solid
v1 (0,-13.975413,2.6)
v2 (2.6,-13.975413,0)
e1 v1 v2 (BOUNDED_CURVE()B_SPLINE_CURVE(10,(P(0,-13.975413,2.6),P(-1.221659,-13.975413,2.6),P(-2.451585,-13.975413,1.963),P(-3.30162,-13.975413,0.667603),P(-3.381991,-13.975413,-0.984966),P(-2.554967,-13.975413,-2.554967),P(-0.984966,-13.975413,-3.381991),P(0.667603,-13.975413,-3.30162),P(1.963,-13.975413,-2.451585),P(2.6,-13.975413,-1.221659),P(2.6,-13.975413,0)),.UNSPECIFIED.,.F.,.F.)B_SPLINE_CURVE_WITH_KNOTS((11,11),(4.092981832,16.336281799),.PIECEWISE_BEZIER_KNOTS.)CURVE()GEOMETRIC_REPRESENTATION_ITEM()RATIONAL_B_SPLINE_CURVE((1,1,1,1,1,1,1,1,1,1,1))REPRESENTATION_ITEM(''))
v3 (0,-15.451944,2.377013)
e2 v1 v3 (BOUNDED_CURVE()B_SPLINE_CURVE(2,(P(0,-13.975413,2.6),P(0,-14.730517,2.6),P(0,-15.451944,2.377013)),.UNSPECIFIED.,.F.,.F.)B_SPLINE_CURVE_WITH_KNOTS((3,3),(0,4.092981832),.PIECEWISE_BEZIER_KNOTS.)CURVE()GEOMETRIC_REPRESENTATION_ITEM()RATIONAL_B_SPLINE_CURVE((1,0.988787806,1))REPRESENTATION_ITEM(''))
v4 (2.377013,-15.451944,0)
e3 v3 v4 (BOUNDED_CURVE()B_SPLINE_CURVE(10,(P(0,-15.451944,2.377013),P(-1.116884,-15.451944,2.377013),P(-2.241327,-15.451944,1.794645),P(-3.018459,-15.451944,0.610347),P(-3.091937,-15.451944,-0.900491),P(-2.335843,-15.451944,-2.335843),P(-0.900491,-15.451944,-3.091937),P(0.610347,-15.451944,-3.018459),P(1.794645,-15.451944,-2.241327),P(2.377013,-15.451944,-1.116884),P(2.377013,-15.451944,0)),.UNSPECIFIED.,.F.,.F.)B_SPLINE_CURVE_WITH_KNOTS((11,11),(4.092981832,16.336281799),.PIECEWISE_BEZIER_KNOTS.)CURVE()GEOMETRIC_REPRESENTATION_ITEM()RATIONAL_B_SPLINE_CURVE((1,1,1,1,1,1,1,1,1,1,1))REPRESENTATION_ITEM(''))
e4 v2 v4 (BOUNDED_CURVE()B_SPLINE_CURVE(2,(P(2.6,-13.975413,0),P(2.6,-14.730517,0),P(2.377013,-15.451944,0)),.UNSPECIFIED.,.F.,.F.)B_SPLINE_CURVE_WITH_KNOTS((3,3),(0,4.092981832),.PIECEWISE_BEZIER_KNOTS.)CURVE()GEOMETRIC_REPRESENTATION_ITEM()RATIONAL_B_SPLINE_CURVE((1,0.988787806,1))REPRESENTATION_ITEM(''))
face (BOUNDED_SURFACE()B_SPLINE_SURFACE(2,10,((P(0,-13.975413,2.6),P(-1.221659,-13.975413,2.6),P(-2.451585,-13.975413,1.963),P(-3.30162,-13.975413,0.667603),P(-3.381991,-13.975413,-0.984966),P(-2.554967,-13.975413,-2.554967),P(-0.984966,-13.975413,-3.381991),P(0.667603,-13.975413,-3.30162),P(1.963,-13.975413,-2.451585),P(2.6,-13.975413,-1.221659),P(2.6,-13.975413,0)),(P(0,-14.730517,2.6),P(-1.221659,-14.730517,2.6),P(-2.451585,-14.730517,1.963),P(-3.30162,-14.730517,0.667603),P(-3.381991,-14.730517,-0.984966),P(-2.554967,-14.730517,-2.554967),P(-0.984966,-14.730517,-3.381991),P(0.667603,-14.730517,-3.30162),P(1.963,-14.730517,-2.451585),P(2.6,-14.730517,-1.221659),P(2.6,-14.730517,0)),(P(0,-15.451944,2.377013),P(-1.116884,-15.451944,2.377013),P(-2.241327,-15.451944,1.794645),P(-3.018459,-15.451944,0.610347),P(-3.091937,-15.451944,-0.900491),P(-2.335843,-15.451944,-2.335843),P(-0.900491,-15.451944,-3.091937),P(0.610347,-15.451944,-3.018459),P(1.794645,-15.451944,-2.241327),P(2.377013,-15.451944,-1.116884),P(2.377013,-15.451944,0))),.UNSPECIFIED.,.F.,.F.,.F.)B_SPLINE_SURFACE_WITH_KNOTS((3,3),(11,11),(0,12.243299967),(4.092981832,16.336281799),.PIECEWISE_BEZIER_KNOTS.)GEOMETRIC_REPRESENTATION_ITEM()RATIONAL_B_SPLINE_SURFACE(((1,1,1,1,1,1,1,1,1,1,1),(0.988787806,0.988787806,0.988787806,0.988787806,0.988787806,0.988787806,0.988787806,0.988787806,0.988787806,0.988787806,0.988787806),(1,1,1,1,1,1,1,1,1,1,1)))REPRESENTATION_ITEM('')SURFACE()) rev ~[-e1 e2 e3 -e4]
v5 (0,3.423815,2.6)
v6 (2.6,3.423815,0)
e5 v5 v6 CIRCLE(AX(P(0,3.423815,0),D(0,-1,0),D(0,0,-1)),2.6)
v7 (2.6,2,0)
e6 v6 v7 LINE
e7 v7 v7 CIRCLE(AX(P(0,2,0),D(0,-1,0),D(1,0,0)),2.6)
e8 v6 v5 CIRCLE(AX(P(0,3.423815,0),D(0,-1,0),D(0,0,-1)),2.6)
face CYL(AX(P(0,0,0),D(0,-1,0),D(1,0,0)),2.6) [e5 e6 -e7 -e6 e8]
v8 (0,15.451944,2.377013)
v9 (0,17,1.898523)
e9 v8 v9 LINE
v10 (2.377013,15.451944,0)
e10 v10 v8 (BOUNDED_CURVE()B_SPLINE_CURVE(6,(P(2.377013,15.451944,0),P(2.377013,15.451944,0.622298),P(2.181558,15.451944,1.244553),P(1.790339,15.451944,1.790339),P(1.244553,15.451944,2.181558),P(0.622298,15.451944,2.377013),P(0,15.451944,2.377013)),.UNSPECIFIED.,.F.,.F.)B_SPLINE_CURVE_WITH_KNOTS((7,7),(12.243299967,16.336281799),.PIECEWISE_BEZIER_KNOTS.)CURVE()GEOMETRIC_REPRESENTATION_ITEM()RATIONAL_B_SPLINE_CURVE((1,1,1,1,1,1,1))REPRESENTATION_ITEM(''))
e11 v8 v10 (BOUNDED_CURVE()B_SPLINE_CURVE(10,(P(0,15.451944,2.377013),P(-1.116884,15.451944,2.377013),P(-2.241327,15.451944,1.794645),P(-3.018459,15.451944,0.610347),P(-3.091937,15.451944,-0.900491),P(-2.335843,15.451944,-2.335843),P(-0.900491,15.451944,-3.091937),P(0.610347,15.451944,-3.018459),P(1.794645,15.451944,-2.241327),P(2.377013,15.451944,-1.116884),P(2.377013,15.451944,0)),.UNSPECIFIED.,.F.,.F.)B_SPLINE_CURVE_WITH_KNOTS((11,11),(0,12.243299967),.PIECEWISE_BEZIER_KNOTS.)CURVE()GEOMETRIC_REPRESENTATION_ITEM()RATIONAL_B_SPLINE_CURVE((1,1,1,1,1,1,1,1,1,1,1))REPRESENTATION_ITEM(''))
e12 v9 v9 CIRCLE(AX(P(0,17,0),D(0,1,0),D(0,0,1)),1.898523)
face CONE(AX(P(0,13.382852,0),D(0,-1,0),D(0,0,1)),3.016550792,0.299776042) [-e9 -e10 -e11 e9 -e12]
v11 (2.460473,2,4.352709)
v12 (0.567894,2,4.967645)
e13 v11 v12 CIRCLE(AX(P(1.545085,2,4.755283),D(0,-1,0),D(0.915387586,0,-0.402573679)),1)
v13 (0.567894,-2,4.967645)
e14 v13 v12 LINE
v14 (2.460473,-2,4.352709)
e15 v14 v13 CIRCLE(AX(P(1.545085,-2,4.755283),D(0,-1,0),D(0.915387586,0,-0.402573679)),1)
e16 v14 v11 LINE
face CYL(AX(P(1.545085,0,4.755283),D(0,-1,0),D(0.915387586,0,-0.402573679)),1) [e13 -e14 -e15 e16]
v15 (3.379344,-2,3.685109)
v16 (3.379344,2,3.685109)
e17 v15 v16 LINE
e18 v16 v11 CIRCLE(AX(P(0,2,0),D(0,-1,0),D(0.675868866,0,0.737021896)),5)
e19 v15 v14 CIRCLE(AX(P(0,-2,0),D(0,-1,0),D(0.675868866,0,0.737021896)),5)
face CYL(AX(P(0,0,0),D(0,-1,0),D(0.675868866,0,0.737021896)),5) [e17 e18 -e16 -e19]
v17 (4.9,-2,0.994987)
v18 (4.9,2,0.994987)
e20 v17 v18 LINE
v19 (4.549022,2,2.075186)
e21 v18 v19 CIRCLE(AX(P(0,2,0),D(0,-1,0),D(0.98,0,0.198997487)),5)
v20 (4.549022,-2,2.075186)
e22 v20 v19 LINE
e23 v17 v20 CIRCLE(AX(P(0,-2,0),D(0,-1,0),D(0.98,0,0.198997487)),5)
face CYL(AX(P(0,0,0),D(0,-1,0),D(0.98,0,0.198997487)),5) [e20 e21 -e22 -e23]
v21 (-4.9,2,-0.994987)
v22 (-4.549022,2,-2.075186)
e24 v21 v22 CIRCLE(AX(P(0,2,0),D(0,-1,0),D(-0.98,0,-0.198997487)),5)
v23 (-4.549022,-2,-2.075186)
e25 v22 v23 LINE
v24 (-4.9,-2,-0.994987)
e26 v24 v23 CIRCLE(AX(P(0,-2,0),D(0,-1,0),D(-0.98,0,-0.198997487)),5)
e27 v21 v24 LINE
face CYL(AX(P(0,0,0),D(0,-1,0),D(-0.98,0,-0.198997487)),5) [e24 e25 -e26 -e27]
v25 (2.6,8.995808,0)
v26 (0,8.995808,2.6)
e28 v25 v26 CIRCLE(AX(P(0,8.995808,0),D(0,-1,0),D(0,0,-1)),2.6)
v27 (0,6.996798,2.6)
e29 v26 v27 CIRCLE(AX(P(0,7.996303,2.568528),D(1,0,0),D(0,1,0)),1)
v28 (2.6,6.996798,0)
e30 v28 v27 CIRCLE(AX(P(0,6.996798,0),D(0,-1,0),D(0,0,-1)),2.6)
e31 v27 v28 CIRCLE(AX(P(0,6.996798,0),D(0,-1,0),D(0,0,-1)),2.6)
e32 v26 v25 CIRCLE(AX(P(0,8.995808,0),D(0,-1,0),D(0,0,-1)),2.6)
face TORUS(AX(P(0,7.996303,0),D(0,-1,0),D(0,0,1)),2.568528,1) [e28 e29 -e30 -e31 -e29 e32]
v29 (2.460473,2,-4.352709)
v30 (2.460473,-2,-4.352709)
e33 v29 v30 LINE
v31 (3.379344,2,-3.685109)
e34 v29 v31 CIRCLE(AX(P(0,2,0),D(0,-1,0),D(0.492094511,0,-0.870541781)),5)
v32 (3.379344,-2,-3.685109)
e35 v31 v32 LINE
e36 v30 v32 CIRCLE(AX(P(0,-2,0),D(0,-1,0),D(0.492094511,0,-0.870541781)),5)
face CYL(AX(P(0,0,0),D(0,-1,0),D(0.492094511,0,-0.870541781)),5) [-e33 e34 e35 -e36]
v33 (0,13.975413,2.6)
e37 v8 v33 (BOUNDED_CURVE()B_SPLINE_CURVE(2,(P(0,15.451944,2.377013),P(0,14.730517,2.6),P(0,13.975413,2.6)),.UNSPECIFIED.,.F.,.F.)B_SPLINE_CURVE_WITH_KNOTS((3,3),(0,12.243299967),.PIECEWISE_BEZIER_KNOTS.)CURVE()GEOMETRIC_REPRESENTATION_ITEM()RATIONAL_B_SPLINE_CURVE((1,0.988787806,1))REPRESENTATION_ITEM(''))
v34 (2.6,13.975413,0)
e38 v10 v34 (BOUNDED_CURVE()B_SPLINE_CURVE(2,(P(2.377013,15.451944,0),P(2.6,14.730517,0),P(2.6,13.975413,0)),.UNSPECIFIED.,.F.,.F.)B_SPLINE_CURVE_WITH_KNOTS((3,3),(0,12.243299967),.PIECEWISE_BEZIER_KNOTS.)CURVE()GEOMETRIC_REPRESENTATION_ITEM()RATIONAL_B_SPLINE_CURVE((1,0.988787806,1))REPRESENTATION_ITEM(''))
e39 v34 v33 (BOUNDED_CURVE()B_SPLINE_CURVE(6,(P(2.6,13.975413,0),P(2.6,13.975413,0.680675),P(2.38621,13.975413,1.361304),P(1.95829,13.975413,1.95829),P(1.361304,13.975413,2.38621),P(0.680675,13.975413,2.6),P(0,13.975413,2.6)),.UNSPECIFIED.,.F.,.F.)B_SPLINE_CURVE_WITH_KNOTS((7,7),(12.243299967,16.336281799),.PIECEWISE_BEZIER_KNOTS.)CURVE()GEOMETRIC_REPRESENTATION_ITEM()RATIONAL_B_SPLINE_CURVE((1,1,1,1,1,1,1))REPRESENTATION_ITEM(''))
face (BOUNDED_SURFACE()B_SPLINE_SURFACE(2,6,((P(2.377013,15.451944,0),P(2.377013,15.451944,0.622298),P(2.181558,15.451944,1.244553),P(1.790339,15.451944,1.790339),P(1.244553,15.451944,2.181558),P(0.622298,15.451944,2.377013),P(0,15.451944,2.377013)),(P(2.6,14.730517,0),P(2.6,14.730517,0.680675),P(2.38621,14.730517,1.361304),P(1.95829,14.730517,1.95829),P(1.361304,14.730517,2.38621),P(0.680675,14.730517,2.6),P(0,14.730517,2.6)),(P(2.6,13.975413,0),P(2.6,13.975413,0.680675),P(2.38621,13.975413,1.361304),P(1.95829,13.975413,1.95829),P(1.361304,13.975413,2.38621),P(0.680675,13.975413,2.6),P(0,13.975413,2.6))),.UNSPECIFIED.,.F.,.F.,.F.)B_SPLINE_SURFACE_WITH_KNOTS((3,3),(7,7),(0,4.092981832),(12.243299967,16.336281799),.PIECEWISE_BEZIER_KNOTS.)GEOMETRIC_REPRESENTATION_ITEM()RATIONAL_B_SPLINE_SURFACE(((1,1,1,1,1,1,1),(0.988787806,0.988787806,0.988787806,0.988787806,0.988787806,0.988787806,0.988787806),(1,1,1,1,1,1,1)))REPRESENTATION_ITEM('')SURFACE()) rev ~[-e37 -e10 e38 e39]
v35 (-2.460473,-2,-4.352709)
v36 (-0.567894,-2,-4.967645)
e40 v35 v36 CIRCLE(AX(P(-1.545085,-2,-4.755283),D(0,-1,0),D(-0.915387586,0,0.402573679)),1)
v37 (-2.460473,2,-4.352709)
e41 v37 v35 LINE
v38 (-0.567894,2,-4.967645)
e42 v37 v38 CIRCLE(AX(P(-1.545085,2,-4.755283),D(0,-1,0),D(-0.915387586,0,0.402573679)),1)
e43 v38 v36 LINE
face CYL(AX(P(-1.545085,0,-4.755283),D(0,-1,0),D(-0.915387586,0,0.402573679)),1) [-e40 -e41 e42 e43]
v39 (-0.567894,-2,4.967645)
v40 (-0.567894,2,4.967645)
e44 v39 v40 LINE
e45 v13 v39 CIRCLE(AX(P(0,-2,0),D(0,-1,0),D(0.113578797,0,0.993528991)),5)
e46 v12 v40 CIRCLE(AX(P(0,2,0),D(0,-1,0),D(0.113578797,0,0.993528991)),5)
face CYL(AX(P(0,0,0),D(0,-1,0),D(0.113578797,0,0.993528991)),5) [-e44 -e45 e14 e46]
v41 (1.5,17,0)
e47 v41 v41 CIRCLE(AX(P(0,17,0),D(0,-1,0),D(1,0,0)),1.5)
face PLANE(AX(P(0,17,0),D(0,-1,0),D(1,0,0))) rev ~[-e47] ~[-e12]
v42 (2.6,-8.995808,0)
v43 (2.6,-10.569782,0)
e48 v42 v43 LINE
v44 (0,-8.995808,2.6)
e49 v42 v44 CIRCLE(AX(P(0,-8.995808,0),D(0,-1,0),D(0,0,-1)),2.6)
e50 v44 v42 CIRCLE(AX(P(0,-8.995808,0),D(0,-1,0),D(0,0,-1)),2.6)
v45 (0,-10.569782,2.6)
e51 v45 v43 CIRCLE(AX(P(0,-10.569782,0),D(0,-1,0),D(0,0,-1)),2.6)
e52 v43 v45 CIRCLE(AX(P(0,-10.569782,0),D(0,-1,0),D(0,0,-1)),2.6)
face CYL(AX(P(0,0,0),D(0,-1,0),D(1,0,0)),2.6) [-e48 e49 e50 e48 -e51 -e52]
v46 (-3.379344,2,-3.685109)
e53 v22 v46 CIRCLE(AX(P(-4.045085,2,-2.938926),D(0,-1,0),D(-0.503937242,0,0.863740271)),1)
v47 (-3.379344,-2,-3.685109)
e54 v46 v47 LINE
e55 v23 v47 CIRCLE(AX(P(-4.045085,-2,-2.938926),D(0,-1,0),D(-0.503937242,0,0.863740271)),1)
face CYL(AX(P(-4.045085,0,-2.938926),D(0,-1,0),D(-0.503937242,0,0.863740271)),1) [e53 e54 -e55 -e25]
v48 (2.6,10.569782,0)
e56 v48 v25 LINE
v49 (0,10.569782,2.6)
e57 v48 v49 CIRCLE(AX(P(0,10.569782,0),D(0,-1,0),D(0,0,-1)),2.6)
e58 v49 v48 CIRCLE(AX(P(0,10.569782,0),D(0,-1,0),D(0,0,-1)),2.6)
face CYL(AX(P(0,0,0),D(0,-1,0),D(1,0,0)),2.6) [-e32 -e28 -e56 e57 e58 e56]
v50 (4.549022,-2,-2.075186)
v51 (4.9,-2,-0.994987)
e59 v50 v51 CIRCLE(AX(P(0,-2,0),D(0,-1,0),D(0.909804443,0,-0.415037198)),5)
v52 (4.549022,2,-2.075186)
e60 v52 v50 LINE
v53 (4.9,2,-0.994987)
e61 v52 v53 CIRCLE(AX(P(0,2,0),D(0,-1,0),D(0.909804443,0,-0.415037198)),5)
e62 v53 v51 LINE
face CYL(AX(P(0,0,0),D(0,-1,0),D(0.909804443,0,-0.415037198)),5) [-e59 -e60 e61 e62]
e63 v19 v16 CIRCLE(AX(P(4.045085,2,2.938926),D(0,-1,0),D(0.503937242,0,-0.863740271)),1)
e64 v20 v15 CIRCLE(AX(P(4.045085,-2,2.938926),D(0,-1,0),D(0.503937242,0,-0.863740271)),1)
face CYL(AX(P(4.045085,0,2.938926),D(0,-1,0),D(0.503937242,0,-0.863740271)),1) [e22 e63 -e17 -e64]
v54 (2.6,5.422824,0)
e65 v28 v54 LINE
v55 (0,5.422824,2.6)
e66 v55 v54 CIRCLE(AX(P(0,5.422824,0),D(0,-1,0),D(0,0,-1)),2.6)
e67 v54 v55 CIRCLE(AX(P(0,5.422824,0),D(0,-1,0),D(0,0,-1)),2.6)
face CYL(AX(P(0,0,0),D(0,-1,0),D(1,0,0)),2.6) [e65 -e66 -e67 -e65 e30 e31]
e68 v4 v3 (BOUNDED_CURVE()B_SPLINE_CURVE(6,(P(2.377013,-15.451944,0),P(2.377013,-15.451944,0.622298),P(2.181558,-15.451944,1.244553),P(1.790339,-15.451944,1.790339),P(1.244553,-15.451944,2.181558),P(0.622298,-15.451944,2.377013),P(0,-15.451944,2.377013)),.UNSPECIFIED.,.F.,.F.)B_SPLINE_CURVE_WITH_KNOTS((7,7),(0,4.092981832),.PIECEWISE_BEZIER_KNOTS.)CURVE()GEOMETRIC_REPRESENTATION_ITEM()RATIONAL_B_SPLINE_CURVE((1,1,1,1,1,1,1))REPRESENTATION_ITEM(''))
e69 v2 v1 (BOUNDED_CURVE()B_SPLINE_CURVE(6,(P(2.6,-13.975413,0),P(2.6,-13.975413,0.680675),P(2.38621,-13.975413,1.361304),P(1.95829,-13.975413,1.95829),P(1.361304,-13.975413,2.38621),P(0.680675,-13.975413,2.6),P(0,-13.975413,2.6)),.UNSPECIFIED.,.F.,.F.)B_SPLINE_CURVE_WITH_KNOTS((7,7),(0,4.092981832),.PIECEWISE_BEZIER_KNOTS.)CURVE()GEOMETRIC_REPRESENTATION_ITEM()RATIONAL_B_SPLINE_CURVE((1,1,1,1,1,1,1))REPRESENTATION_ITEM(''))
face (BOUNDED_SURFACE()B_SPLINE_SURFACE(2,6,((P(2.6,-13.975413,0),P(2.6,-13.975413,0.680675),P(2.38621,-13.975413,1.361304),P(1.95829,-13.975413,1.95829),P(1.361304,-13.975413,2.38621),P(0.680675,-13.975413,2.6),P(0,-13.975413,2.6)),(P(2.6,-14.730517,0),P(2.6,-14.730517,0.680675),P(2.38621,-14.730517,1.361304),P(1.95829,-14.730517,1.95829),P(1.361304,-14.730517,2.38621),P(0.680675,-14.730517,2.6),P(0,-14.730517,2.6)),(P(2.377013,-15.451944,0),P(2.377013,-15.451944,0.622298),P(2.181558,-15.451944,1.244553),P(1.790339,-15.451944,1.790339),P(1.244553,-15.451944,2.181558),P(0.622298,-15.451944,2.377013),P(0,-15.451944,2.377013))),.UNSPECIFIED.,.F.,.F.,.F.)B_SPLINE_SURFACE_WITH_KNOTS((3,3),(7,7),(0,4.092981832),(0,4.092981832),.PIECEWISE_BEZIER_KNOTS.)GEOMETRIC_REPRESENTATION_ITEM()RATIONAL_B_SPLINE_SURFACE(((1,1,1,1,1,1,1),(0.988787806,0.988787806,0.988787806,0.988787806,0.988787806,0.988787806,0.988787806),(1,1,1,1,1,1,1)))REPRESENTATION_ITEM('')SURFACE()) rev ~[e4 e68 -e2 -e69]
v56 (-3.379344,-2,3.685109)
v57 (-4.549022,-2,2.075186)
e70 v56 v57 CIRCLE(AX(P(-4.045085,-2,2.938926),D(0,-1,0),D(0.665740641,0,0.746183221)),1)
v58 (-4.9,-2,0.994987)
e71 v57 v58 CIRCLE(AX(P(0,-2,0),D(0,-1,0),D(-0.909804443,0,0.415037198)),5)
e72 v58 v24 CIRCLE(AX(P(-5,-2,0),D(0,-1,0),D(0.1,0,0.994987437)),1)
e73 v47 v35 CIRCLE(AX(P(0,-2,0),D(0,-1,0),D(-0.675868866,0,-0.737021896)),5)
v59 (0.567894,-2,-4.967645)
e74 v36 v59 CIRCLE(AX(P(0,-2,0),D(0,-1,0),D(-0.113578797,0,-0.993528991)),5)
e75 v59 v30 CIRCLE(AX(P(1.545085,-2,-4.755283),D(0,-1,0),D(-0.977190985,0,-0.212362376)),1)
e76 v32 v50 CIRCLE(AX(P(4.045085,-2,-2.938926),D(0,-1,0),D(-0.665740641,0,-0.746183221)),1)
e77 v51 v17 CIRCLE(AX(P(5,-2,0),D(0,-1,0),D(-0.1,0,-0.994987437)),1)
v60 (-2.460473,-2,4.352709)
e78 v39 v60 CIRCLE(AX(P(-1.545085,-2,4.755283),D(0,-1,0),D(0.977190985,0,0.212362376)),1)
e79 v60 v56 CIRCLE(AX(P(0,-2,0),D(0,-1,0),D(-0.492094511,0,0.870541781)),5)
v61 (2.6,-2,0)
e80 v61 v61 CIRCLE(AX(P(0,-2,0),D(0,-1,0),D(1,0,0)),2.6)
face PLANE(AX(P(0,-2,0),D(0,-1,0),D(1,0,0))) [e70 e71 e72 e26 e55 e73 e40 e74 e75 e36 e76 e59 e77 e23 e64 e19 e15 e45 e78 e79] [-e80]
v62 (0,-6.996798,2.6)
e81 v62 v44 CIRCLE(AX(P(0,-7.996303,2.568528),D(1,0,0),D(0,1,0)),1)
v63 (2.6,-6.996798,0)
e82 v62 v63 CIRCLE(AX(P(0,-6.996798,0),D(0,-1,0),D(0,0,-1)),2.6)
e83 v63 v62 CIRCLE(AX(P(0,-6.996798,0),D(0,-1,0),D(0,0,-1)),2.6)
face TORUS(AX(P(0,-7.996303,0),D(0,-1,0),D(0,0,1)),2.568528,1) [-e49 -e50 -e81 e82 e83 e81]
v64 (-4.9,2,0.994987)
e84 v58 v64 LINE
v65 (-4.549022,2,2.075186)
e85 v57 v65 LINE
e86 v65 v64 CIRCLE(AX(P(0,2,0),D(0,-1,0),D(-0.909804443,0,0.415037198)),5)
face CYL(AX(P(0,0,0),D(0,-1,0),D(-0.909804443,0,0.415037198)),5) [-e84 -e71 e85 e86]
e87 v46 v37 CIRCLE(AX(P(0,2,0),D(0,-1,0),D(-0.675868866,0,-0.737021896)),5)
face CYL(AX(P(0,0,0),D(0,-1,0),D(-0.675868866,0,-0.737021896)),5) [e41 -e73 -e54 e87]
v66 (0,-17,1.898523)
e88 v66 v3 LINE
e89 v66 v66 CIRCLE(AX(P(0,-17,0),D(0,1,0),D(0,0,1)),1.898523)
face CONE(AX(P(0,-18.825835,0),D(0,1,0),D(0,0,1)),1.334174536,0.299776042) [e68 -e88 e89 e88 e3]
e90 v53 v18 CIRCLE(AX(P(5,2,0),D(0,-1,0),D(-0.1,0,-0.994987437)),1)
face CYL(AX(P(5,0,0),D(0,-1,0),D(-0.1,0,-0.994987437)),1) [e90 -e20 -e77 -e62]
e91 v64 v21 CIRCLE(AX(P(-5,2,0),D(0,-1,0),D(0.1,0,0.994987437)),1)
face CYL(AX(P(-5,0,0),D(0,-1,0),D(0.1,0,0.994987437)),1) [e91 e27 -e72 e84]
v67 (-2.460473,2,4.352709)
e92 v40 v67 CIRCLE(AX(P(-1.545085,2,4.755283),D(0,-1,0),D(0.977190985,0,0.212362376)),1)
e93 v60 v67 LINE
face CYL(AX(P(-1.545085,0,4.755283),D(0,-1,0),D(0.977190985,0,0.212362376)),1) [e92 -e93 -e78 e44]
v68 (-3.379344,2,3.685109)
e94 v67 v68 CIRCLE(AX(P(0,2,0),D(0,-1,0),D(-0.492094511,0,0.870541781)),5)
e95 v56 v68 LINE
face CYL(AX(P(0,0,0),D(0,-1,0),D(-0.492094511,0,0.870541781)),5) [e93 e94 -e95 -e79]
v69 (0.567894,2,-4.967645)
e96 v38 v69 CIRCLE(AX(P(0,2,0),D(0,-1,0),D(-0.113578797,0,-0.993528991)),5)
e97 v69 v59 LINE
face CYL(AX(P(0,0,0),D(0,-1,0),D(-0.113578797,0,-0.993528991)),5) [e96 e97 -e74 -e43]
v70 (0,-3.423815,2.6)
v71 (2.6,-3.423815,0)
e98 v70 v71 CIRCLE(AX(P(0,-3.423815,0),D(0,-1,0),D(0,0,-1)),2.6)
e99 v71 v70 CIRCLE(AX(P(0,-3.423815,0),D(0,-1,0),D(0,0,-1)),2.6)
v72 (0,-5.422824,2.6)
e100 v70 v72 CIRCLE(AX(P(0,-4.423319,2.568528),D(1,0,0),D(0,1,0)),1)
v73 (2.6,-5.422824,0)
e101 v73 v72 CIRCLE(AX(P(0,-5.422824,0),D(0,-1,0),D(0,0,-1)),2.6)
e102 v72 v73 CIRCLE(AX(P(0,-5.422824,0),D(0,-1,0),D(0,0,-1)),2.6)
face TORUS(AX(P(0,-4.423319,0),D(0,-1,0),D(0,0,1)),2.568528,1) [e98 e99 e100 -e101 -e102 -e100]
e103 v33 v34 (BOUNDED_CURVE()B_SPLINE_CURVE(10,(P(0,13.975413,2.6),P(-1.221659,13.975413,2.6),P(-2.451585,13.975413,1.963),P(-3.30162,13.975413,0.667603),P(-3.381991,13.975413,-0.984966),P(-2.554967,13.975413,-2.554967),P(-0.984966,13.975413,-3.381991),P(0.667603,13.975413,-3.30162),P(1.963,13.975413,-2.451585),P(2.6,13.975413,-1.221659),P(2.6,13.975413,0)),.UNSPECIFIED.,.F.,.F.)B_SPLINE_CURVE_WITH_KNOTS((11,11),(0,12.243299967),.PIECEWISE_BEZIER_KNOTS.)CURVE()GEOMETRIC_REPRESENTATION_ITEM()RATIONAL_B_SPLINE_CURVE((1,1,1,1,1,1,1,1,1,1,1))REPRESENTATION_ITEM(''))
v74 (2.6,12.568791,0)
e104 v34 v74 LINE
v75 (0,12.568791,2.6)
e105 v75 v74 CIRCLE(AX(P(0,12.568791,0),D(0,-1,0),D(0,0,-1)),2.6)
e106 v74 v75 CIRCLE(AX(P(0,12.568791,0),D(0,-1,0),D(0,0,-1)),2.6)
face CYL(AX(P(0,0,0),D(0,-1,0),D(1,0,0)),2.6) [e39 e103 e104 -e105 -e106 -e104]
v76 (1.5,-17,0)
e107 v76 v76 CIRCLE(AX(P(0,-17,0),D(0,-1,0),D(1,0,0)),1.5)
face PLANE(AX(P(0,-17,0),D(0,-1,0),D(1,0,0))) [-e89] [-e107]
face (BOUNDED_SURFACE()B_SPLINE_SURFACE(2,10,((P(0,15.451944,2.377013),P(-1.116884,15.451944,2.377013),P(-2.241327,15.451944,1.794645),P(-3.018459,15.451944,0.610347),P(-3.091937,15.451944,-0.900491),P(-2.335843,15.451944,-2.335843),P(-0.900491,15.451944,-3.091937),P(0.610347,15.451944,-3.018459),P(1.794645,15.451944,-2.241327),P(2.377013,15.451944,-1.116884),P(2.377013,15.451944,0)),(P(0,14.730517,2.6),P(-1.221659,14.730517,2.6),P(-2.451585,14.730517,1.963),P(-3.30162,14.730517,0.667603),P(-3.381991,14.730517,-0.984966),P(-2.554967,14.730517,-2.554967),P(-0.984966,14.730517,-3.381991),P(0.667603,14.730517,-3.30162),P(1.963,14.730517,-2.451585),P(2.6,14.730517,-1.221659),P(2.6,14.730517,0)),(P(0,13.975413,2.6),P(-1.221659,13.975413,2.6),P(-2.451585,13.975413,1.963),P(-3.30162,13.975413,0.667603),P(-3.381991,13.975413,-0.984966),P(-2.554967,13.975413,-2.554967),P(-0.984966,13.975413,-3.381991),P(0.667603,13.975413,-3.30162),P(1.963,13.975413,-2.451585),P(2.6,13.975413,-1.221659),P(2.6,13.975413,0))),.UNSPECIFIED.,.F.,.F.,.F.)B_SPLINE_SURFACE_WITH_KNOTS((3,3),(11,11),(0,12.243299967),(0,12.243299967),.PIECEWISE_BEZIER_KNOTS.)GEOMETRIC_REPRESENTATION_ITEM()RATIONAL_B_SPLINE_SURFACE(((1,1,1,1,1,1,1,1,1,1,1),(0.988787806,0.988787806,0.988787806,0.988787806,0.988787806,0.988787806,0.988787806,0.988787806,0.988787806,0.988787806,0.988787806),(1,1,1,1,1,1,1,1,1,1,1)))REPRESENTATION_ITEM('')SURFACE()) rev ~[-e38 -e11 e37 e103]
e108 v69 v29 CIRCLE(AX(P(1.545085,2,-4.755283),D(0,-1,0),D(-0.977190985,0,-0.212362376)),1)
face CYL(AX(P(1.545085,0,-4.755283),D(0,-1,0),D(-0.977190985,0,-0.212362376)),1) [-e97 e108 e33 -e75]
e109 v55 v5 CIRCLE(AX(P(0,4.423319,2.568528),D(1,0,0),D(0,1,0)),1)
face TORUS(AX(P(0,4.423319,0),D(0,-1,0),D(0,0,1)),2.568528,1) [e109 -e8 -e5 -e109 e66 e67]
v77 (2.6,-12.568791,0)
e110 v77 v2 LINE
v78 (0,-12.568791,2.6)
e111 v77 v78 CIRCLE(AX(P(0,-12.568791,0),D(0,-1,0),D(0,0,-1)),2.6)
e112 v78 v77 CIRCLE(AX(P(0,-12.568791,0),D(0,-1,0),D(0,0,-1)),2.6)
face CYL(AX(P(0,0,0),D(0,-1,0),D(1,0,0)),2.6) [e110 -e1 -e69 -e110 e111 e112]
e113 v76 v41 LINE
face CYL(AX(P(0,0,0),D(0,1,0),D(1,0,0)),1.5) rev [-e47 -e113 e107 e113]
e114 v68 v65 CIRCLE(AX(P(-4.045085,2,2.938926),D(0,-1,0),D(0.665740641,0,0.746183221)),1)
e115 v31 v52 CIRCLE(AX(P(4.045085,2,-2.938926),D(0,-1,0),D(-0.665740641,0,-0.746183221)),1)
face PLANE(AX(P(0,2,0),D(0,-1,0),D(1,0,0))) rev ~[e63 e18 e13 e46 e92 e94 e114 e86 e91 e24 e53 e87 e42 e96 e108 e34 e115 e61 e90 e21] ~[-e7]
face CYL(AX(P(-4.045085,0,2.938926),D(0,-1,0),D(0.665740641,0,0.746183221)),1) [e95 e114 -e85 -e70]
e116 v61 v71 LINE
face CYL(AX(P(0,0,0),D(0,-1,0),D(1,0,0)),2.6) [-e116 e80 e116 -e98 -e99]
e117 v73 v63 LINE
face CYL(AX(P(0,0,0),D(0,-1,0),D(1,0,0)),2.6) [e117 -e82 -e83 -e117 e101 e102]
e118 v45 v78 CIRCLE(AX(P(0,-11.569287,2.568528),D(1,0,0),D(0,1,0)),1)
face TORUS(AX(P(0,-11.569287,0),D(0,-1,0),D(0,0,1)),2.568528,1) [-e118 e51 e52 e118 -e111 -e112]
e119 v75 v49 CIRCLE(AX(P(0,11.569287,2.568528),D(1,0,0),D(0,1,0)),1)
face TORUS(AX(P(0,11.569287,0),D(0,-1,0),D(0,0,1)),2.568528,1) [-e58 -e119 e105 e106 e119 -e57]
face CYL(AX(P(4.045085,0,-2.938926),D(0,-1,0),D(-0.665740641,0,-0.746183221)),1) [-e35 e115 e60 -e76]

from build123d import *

# Parameters (mm, degrees)
F0_R     = 2.6
F0_R_2   = 1.5
F1_DEPTH = 17
F2_DEPTH = 2
F3_R     = 1
F7_R     = 5


with BuildPart() as f1:
    # F0 (on Front) → F1 (new body, symmetric)
    with BuildSketch(Plane.XZ):
        Circle(F0_R)
        Circle(F0_R_2, mode=Mode.SUBTRACT)
    extrude(amount=F1_DEPTH, both=True)

    # F0 (on Front) → F2 (join, symmetric)
    with BuildSketch(Plane.XZ):
        with BuildLine():
            ThreePointArc((-4.9, 0.9949874371), (-6, 0), (-4.9, -0.9949874371))
            ThreePointArc((-4.9, -0.9949874371), (-4.7552825815, -1.5450849719), (-4.5490222142, -2.0751859904))
            ThreePointArc((-4.5490222142, -2.0751859904), (-4.8541019662, -3.5267115138), (-3.3793443307, -3.685109482))
            ThreePointArc((-3.3793443307, -3.685109482), (-2.9389262615, -4.0450849719), (-2.4604725581, -4.3527089026))
            ThreePointArc((-2.4604725581, -4.3527089026), (-1.8541019662, -5.7063390978), (-0.5678939867, -4.9676449571))
            ThreePointArc((-0.5678939867, -4.9676449571), (0, -5), (0.5678939867, -4.9676449571))
            ThreePointArc((0.5678939867, -4.9676449571), (1.8541019662, -5.7063390978), (2.4604725581, -4.3527089026))
            ThreePointArc((2.4604725581, -4.3527089026), (2.9389262615, -4.0450849719), (3.3793443307, -3.685109482))
            ThreePointArc((3.3793443307, -3.685109482), (4.8541019662, -3.5267115138), (4.5490222142, -2.0751859904))
            ThreePointArc((4.5490222142, -2.0751859904), (4.7552825815, -1.5450849719), (4.9, -0.9949874371))
            ThreePointArc((4.9, -0.9949874371), (6, 0), (4.9, 0.9949874371))
            ThreePointArc((4.9, 0.9949874371), (4.7552825815, 1.5450849719), (4.5490222142, 2.0751859904))
            ThreePointArc((4.5490222142, 2.0751859904), (4.8541019662, 3.5267115138), (3.3793443307, 3.685109482))
            ThreePointArc((3.3793443307, 3.685109482), (2.9389262615, 4.0450849719), (2.4604725581, 4.3527089026))
            ThreePointArc((2.4604725581, 4.3527089026), (1.8541019662, 5.7063390978), (0.5678939867, 4.9676449571))
            ThreePointArc((0.5678939867, 4.9676449571), (0, 5), (-0.5678939867, 4.9676449571))
            ThreePointArc((-0.5678939867, 4.9676449571), (-1.8541019662, 5.7063390978), (-2.4604725581, 4.3527089026))
            ThreePointArc((-2.4604725581, 4.3527089026), (-2.9389262615, 4.0450849719), (-3.3793443307, 3.685109482))
            ThreePointArc((-3.3793443307, 3.685109482), (-4.8541019662, 3.5267115138), (-4.5490222142, 2.0751859904))
            ThreePointArc((-4.5490222142, 2.0751859904), (-4.7552825815, 1.5450849719), (-4.9, 0.9949874371))
        make_face()
        Circle(F0_R, mode=Mode.SUBTRACT)
    extrude(amount=F2_DEPTH, both=True)

    # F3 (on Right) → F4 (revolve)
    with BuildSketch(Plane.YZ):
        with Locations((-11.5692866966, 2.5685280561)):
            Circle(F3_R)
        with Locations((-7.9963030294, 2.5685280561)):
            Circle(F3_R)
        with Locations((-4.4233193621, 2.5685280561)):
            Circle(F3_R)
        with Locations((4.4233193621, 2.5685280561)):
            Circle(F3_R)
        with Locations((7.9963030294, 2.5685280561)):
            Circle(F3_R)
        with Locations((11.5692866966, 2.5685280561)):
            Circle(F3_R)
    revolve(axis=Axis((0, -2.136901297, 0), (0, -1, 0)))

    # F5 (on Right) → F6 (revolve, cut)
    with BuildSketch(Plane.YZ):
        Polygon((-18.825834617, 3.0165507924), (-18.825834617, 1.3341745362), (-13.3828520775, 3.0165507924), align=None)
        Polygon((18.825834617, 1.3341745362), (18.825834617, 3.0165507924), (13.3828520775, 3.0165507924), align=None)
    revolve(axis=Axis((0, -0.1465082169, 0), (0, 1, 0)), mode=Mode.SUBTRACT)

    # F7
    f7_edges = [f1.edges().sort_by_distance(p)[0] for p in [
        (-1.838478, 14.730517, -1.838478),
        (1.838478, 14.730517, 1.838478),
        (1.838478, -14.730517, 1.838478),
        (-1.838478, -14.730517, -1.838478),
    ]]
    fillet(f7_edges, radius=F7_R)


solid = f1.part
